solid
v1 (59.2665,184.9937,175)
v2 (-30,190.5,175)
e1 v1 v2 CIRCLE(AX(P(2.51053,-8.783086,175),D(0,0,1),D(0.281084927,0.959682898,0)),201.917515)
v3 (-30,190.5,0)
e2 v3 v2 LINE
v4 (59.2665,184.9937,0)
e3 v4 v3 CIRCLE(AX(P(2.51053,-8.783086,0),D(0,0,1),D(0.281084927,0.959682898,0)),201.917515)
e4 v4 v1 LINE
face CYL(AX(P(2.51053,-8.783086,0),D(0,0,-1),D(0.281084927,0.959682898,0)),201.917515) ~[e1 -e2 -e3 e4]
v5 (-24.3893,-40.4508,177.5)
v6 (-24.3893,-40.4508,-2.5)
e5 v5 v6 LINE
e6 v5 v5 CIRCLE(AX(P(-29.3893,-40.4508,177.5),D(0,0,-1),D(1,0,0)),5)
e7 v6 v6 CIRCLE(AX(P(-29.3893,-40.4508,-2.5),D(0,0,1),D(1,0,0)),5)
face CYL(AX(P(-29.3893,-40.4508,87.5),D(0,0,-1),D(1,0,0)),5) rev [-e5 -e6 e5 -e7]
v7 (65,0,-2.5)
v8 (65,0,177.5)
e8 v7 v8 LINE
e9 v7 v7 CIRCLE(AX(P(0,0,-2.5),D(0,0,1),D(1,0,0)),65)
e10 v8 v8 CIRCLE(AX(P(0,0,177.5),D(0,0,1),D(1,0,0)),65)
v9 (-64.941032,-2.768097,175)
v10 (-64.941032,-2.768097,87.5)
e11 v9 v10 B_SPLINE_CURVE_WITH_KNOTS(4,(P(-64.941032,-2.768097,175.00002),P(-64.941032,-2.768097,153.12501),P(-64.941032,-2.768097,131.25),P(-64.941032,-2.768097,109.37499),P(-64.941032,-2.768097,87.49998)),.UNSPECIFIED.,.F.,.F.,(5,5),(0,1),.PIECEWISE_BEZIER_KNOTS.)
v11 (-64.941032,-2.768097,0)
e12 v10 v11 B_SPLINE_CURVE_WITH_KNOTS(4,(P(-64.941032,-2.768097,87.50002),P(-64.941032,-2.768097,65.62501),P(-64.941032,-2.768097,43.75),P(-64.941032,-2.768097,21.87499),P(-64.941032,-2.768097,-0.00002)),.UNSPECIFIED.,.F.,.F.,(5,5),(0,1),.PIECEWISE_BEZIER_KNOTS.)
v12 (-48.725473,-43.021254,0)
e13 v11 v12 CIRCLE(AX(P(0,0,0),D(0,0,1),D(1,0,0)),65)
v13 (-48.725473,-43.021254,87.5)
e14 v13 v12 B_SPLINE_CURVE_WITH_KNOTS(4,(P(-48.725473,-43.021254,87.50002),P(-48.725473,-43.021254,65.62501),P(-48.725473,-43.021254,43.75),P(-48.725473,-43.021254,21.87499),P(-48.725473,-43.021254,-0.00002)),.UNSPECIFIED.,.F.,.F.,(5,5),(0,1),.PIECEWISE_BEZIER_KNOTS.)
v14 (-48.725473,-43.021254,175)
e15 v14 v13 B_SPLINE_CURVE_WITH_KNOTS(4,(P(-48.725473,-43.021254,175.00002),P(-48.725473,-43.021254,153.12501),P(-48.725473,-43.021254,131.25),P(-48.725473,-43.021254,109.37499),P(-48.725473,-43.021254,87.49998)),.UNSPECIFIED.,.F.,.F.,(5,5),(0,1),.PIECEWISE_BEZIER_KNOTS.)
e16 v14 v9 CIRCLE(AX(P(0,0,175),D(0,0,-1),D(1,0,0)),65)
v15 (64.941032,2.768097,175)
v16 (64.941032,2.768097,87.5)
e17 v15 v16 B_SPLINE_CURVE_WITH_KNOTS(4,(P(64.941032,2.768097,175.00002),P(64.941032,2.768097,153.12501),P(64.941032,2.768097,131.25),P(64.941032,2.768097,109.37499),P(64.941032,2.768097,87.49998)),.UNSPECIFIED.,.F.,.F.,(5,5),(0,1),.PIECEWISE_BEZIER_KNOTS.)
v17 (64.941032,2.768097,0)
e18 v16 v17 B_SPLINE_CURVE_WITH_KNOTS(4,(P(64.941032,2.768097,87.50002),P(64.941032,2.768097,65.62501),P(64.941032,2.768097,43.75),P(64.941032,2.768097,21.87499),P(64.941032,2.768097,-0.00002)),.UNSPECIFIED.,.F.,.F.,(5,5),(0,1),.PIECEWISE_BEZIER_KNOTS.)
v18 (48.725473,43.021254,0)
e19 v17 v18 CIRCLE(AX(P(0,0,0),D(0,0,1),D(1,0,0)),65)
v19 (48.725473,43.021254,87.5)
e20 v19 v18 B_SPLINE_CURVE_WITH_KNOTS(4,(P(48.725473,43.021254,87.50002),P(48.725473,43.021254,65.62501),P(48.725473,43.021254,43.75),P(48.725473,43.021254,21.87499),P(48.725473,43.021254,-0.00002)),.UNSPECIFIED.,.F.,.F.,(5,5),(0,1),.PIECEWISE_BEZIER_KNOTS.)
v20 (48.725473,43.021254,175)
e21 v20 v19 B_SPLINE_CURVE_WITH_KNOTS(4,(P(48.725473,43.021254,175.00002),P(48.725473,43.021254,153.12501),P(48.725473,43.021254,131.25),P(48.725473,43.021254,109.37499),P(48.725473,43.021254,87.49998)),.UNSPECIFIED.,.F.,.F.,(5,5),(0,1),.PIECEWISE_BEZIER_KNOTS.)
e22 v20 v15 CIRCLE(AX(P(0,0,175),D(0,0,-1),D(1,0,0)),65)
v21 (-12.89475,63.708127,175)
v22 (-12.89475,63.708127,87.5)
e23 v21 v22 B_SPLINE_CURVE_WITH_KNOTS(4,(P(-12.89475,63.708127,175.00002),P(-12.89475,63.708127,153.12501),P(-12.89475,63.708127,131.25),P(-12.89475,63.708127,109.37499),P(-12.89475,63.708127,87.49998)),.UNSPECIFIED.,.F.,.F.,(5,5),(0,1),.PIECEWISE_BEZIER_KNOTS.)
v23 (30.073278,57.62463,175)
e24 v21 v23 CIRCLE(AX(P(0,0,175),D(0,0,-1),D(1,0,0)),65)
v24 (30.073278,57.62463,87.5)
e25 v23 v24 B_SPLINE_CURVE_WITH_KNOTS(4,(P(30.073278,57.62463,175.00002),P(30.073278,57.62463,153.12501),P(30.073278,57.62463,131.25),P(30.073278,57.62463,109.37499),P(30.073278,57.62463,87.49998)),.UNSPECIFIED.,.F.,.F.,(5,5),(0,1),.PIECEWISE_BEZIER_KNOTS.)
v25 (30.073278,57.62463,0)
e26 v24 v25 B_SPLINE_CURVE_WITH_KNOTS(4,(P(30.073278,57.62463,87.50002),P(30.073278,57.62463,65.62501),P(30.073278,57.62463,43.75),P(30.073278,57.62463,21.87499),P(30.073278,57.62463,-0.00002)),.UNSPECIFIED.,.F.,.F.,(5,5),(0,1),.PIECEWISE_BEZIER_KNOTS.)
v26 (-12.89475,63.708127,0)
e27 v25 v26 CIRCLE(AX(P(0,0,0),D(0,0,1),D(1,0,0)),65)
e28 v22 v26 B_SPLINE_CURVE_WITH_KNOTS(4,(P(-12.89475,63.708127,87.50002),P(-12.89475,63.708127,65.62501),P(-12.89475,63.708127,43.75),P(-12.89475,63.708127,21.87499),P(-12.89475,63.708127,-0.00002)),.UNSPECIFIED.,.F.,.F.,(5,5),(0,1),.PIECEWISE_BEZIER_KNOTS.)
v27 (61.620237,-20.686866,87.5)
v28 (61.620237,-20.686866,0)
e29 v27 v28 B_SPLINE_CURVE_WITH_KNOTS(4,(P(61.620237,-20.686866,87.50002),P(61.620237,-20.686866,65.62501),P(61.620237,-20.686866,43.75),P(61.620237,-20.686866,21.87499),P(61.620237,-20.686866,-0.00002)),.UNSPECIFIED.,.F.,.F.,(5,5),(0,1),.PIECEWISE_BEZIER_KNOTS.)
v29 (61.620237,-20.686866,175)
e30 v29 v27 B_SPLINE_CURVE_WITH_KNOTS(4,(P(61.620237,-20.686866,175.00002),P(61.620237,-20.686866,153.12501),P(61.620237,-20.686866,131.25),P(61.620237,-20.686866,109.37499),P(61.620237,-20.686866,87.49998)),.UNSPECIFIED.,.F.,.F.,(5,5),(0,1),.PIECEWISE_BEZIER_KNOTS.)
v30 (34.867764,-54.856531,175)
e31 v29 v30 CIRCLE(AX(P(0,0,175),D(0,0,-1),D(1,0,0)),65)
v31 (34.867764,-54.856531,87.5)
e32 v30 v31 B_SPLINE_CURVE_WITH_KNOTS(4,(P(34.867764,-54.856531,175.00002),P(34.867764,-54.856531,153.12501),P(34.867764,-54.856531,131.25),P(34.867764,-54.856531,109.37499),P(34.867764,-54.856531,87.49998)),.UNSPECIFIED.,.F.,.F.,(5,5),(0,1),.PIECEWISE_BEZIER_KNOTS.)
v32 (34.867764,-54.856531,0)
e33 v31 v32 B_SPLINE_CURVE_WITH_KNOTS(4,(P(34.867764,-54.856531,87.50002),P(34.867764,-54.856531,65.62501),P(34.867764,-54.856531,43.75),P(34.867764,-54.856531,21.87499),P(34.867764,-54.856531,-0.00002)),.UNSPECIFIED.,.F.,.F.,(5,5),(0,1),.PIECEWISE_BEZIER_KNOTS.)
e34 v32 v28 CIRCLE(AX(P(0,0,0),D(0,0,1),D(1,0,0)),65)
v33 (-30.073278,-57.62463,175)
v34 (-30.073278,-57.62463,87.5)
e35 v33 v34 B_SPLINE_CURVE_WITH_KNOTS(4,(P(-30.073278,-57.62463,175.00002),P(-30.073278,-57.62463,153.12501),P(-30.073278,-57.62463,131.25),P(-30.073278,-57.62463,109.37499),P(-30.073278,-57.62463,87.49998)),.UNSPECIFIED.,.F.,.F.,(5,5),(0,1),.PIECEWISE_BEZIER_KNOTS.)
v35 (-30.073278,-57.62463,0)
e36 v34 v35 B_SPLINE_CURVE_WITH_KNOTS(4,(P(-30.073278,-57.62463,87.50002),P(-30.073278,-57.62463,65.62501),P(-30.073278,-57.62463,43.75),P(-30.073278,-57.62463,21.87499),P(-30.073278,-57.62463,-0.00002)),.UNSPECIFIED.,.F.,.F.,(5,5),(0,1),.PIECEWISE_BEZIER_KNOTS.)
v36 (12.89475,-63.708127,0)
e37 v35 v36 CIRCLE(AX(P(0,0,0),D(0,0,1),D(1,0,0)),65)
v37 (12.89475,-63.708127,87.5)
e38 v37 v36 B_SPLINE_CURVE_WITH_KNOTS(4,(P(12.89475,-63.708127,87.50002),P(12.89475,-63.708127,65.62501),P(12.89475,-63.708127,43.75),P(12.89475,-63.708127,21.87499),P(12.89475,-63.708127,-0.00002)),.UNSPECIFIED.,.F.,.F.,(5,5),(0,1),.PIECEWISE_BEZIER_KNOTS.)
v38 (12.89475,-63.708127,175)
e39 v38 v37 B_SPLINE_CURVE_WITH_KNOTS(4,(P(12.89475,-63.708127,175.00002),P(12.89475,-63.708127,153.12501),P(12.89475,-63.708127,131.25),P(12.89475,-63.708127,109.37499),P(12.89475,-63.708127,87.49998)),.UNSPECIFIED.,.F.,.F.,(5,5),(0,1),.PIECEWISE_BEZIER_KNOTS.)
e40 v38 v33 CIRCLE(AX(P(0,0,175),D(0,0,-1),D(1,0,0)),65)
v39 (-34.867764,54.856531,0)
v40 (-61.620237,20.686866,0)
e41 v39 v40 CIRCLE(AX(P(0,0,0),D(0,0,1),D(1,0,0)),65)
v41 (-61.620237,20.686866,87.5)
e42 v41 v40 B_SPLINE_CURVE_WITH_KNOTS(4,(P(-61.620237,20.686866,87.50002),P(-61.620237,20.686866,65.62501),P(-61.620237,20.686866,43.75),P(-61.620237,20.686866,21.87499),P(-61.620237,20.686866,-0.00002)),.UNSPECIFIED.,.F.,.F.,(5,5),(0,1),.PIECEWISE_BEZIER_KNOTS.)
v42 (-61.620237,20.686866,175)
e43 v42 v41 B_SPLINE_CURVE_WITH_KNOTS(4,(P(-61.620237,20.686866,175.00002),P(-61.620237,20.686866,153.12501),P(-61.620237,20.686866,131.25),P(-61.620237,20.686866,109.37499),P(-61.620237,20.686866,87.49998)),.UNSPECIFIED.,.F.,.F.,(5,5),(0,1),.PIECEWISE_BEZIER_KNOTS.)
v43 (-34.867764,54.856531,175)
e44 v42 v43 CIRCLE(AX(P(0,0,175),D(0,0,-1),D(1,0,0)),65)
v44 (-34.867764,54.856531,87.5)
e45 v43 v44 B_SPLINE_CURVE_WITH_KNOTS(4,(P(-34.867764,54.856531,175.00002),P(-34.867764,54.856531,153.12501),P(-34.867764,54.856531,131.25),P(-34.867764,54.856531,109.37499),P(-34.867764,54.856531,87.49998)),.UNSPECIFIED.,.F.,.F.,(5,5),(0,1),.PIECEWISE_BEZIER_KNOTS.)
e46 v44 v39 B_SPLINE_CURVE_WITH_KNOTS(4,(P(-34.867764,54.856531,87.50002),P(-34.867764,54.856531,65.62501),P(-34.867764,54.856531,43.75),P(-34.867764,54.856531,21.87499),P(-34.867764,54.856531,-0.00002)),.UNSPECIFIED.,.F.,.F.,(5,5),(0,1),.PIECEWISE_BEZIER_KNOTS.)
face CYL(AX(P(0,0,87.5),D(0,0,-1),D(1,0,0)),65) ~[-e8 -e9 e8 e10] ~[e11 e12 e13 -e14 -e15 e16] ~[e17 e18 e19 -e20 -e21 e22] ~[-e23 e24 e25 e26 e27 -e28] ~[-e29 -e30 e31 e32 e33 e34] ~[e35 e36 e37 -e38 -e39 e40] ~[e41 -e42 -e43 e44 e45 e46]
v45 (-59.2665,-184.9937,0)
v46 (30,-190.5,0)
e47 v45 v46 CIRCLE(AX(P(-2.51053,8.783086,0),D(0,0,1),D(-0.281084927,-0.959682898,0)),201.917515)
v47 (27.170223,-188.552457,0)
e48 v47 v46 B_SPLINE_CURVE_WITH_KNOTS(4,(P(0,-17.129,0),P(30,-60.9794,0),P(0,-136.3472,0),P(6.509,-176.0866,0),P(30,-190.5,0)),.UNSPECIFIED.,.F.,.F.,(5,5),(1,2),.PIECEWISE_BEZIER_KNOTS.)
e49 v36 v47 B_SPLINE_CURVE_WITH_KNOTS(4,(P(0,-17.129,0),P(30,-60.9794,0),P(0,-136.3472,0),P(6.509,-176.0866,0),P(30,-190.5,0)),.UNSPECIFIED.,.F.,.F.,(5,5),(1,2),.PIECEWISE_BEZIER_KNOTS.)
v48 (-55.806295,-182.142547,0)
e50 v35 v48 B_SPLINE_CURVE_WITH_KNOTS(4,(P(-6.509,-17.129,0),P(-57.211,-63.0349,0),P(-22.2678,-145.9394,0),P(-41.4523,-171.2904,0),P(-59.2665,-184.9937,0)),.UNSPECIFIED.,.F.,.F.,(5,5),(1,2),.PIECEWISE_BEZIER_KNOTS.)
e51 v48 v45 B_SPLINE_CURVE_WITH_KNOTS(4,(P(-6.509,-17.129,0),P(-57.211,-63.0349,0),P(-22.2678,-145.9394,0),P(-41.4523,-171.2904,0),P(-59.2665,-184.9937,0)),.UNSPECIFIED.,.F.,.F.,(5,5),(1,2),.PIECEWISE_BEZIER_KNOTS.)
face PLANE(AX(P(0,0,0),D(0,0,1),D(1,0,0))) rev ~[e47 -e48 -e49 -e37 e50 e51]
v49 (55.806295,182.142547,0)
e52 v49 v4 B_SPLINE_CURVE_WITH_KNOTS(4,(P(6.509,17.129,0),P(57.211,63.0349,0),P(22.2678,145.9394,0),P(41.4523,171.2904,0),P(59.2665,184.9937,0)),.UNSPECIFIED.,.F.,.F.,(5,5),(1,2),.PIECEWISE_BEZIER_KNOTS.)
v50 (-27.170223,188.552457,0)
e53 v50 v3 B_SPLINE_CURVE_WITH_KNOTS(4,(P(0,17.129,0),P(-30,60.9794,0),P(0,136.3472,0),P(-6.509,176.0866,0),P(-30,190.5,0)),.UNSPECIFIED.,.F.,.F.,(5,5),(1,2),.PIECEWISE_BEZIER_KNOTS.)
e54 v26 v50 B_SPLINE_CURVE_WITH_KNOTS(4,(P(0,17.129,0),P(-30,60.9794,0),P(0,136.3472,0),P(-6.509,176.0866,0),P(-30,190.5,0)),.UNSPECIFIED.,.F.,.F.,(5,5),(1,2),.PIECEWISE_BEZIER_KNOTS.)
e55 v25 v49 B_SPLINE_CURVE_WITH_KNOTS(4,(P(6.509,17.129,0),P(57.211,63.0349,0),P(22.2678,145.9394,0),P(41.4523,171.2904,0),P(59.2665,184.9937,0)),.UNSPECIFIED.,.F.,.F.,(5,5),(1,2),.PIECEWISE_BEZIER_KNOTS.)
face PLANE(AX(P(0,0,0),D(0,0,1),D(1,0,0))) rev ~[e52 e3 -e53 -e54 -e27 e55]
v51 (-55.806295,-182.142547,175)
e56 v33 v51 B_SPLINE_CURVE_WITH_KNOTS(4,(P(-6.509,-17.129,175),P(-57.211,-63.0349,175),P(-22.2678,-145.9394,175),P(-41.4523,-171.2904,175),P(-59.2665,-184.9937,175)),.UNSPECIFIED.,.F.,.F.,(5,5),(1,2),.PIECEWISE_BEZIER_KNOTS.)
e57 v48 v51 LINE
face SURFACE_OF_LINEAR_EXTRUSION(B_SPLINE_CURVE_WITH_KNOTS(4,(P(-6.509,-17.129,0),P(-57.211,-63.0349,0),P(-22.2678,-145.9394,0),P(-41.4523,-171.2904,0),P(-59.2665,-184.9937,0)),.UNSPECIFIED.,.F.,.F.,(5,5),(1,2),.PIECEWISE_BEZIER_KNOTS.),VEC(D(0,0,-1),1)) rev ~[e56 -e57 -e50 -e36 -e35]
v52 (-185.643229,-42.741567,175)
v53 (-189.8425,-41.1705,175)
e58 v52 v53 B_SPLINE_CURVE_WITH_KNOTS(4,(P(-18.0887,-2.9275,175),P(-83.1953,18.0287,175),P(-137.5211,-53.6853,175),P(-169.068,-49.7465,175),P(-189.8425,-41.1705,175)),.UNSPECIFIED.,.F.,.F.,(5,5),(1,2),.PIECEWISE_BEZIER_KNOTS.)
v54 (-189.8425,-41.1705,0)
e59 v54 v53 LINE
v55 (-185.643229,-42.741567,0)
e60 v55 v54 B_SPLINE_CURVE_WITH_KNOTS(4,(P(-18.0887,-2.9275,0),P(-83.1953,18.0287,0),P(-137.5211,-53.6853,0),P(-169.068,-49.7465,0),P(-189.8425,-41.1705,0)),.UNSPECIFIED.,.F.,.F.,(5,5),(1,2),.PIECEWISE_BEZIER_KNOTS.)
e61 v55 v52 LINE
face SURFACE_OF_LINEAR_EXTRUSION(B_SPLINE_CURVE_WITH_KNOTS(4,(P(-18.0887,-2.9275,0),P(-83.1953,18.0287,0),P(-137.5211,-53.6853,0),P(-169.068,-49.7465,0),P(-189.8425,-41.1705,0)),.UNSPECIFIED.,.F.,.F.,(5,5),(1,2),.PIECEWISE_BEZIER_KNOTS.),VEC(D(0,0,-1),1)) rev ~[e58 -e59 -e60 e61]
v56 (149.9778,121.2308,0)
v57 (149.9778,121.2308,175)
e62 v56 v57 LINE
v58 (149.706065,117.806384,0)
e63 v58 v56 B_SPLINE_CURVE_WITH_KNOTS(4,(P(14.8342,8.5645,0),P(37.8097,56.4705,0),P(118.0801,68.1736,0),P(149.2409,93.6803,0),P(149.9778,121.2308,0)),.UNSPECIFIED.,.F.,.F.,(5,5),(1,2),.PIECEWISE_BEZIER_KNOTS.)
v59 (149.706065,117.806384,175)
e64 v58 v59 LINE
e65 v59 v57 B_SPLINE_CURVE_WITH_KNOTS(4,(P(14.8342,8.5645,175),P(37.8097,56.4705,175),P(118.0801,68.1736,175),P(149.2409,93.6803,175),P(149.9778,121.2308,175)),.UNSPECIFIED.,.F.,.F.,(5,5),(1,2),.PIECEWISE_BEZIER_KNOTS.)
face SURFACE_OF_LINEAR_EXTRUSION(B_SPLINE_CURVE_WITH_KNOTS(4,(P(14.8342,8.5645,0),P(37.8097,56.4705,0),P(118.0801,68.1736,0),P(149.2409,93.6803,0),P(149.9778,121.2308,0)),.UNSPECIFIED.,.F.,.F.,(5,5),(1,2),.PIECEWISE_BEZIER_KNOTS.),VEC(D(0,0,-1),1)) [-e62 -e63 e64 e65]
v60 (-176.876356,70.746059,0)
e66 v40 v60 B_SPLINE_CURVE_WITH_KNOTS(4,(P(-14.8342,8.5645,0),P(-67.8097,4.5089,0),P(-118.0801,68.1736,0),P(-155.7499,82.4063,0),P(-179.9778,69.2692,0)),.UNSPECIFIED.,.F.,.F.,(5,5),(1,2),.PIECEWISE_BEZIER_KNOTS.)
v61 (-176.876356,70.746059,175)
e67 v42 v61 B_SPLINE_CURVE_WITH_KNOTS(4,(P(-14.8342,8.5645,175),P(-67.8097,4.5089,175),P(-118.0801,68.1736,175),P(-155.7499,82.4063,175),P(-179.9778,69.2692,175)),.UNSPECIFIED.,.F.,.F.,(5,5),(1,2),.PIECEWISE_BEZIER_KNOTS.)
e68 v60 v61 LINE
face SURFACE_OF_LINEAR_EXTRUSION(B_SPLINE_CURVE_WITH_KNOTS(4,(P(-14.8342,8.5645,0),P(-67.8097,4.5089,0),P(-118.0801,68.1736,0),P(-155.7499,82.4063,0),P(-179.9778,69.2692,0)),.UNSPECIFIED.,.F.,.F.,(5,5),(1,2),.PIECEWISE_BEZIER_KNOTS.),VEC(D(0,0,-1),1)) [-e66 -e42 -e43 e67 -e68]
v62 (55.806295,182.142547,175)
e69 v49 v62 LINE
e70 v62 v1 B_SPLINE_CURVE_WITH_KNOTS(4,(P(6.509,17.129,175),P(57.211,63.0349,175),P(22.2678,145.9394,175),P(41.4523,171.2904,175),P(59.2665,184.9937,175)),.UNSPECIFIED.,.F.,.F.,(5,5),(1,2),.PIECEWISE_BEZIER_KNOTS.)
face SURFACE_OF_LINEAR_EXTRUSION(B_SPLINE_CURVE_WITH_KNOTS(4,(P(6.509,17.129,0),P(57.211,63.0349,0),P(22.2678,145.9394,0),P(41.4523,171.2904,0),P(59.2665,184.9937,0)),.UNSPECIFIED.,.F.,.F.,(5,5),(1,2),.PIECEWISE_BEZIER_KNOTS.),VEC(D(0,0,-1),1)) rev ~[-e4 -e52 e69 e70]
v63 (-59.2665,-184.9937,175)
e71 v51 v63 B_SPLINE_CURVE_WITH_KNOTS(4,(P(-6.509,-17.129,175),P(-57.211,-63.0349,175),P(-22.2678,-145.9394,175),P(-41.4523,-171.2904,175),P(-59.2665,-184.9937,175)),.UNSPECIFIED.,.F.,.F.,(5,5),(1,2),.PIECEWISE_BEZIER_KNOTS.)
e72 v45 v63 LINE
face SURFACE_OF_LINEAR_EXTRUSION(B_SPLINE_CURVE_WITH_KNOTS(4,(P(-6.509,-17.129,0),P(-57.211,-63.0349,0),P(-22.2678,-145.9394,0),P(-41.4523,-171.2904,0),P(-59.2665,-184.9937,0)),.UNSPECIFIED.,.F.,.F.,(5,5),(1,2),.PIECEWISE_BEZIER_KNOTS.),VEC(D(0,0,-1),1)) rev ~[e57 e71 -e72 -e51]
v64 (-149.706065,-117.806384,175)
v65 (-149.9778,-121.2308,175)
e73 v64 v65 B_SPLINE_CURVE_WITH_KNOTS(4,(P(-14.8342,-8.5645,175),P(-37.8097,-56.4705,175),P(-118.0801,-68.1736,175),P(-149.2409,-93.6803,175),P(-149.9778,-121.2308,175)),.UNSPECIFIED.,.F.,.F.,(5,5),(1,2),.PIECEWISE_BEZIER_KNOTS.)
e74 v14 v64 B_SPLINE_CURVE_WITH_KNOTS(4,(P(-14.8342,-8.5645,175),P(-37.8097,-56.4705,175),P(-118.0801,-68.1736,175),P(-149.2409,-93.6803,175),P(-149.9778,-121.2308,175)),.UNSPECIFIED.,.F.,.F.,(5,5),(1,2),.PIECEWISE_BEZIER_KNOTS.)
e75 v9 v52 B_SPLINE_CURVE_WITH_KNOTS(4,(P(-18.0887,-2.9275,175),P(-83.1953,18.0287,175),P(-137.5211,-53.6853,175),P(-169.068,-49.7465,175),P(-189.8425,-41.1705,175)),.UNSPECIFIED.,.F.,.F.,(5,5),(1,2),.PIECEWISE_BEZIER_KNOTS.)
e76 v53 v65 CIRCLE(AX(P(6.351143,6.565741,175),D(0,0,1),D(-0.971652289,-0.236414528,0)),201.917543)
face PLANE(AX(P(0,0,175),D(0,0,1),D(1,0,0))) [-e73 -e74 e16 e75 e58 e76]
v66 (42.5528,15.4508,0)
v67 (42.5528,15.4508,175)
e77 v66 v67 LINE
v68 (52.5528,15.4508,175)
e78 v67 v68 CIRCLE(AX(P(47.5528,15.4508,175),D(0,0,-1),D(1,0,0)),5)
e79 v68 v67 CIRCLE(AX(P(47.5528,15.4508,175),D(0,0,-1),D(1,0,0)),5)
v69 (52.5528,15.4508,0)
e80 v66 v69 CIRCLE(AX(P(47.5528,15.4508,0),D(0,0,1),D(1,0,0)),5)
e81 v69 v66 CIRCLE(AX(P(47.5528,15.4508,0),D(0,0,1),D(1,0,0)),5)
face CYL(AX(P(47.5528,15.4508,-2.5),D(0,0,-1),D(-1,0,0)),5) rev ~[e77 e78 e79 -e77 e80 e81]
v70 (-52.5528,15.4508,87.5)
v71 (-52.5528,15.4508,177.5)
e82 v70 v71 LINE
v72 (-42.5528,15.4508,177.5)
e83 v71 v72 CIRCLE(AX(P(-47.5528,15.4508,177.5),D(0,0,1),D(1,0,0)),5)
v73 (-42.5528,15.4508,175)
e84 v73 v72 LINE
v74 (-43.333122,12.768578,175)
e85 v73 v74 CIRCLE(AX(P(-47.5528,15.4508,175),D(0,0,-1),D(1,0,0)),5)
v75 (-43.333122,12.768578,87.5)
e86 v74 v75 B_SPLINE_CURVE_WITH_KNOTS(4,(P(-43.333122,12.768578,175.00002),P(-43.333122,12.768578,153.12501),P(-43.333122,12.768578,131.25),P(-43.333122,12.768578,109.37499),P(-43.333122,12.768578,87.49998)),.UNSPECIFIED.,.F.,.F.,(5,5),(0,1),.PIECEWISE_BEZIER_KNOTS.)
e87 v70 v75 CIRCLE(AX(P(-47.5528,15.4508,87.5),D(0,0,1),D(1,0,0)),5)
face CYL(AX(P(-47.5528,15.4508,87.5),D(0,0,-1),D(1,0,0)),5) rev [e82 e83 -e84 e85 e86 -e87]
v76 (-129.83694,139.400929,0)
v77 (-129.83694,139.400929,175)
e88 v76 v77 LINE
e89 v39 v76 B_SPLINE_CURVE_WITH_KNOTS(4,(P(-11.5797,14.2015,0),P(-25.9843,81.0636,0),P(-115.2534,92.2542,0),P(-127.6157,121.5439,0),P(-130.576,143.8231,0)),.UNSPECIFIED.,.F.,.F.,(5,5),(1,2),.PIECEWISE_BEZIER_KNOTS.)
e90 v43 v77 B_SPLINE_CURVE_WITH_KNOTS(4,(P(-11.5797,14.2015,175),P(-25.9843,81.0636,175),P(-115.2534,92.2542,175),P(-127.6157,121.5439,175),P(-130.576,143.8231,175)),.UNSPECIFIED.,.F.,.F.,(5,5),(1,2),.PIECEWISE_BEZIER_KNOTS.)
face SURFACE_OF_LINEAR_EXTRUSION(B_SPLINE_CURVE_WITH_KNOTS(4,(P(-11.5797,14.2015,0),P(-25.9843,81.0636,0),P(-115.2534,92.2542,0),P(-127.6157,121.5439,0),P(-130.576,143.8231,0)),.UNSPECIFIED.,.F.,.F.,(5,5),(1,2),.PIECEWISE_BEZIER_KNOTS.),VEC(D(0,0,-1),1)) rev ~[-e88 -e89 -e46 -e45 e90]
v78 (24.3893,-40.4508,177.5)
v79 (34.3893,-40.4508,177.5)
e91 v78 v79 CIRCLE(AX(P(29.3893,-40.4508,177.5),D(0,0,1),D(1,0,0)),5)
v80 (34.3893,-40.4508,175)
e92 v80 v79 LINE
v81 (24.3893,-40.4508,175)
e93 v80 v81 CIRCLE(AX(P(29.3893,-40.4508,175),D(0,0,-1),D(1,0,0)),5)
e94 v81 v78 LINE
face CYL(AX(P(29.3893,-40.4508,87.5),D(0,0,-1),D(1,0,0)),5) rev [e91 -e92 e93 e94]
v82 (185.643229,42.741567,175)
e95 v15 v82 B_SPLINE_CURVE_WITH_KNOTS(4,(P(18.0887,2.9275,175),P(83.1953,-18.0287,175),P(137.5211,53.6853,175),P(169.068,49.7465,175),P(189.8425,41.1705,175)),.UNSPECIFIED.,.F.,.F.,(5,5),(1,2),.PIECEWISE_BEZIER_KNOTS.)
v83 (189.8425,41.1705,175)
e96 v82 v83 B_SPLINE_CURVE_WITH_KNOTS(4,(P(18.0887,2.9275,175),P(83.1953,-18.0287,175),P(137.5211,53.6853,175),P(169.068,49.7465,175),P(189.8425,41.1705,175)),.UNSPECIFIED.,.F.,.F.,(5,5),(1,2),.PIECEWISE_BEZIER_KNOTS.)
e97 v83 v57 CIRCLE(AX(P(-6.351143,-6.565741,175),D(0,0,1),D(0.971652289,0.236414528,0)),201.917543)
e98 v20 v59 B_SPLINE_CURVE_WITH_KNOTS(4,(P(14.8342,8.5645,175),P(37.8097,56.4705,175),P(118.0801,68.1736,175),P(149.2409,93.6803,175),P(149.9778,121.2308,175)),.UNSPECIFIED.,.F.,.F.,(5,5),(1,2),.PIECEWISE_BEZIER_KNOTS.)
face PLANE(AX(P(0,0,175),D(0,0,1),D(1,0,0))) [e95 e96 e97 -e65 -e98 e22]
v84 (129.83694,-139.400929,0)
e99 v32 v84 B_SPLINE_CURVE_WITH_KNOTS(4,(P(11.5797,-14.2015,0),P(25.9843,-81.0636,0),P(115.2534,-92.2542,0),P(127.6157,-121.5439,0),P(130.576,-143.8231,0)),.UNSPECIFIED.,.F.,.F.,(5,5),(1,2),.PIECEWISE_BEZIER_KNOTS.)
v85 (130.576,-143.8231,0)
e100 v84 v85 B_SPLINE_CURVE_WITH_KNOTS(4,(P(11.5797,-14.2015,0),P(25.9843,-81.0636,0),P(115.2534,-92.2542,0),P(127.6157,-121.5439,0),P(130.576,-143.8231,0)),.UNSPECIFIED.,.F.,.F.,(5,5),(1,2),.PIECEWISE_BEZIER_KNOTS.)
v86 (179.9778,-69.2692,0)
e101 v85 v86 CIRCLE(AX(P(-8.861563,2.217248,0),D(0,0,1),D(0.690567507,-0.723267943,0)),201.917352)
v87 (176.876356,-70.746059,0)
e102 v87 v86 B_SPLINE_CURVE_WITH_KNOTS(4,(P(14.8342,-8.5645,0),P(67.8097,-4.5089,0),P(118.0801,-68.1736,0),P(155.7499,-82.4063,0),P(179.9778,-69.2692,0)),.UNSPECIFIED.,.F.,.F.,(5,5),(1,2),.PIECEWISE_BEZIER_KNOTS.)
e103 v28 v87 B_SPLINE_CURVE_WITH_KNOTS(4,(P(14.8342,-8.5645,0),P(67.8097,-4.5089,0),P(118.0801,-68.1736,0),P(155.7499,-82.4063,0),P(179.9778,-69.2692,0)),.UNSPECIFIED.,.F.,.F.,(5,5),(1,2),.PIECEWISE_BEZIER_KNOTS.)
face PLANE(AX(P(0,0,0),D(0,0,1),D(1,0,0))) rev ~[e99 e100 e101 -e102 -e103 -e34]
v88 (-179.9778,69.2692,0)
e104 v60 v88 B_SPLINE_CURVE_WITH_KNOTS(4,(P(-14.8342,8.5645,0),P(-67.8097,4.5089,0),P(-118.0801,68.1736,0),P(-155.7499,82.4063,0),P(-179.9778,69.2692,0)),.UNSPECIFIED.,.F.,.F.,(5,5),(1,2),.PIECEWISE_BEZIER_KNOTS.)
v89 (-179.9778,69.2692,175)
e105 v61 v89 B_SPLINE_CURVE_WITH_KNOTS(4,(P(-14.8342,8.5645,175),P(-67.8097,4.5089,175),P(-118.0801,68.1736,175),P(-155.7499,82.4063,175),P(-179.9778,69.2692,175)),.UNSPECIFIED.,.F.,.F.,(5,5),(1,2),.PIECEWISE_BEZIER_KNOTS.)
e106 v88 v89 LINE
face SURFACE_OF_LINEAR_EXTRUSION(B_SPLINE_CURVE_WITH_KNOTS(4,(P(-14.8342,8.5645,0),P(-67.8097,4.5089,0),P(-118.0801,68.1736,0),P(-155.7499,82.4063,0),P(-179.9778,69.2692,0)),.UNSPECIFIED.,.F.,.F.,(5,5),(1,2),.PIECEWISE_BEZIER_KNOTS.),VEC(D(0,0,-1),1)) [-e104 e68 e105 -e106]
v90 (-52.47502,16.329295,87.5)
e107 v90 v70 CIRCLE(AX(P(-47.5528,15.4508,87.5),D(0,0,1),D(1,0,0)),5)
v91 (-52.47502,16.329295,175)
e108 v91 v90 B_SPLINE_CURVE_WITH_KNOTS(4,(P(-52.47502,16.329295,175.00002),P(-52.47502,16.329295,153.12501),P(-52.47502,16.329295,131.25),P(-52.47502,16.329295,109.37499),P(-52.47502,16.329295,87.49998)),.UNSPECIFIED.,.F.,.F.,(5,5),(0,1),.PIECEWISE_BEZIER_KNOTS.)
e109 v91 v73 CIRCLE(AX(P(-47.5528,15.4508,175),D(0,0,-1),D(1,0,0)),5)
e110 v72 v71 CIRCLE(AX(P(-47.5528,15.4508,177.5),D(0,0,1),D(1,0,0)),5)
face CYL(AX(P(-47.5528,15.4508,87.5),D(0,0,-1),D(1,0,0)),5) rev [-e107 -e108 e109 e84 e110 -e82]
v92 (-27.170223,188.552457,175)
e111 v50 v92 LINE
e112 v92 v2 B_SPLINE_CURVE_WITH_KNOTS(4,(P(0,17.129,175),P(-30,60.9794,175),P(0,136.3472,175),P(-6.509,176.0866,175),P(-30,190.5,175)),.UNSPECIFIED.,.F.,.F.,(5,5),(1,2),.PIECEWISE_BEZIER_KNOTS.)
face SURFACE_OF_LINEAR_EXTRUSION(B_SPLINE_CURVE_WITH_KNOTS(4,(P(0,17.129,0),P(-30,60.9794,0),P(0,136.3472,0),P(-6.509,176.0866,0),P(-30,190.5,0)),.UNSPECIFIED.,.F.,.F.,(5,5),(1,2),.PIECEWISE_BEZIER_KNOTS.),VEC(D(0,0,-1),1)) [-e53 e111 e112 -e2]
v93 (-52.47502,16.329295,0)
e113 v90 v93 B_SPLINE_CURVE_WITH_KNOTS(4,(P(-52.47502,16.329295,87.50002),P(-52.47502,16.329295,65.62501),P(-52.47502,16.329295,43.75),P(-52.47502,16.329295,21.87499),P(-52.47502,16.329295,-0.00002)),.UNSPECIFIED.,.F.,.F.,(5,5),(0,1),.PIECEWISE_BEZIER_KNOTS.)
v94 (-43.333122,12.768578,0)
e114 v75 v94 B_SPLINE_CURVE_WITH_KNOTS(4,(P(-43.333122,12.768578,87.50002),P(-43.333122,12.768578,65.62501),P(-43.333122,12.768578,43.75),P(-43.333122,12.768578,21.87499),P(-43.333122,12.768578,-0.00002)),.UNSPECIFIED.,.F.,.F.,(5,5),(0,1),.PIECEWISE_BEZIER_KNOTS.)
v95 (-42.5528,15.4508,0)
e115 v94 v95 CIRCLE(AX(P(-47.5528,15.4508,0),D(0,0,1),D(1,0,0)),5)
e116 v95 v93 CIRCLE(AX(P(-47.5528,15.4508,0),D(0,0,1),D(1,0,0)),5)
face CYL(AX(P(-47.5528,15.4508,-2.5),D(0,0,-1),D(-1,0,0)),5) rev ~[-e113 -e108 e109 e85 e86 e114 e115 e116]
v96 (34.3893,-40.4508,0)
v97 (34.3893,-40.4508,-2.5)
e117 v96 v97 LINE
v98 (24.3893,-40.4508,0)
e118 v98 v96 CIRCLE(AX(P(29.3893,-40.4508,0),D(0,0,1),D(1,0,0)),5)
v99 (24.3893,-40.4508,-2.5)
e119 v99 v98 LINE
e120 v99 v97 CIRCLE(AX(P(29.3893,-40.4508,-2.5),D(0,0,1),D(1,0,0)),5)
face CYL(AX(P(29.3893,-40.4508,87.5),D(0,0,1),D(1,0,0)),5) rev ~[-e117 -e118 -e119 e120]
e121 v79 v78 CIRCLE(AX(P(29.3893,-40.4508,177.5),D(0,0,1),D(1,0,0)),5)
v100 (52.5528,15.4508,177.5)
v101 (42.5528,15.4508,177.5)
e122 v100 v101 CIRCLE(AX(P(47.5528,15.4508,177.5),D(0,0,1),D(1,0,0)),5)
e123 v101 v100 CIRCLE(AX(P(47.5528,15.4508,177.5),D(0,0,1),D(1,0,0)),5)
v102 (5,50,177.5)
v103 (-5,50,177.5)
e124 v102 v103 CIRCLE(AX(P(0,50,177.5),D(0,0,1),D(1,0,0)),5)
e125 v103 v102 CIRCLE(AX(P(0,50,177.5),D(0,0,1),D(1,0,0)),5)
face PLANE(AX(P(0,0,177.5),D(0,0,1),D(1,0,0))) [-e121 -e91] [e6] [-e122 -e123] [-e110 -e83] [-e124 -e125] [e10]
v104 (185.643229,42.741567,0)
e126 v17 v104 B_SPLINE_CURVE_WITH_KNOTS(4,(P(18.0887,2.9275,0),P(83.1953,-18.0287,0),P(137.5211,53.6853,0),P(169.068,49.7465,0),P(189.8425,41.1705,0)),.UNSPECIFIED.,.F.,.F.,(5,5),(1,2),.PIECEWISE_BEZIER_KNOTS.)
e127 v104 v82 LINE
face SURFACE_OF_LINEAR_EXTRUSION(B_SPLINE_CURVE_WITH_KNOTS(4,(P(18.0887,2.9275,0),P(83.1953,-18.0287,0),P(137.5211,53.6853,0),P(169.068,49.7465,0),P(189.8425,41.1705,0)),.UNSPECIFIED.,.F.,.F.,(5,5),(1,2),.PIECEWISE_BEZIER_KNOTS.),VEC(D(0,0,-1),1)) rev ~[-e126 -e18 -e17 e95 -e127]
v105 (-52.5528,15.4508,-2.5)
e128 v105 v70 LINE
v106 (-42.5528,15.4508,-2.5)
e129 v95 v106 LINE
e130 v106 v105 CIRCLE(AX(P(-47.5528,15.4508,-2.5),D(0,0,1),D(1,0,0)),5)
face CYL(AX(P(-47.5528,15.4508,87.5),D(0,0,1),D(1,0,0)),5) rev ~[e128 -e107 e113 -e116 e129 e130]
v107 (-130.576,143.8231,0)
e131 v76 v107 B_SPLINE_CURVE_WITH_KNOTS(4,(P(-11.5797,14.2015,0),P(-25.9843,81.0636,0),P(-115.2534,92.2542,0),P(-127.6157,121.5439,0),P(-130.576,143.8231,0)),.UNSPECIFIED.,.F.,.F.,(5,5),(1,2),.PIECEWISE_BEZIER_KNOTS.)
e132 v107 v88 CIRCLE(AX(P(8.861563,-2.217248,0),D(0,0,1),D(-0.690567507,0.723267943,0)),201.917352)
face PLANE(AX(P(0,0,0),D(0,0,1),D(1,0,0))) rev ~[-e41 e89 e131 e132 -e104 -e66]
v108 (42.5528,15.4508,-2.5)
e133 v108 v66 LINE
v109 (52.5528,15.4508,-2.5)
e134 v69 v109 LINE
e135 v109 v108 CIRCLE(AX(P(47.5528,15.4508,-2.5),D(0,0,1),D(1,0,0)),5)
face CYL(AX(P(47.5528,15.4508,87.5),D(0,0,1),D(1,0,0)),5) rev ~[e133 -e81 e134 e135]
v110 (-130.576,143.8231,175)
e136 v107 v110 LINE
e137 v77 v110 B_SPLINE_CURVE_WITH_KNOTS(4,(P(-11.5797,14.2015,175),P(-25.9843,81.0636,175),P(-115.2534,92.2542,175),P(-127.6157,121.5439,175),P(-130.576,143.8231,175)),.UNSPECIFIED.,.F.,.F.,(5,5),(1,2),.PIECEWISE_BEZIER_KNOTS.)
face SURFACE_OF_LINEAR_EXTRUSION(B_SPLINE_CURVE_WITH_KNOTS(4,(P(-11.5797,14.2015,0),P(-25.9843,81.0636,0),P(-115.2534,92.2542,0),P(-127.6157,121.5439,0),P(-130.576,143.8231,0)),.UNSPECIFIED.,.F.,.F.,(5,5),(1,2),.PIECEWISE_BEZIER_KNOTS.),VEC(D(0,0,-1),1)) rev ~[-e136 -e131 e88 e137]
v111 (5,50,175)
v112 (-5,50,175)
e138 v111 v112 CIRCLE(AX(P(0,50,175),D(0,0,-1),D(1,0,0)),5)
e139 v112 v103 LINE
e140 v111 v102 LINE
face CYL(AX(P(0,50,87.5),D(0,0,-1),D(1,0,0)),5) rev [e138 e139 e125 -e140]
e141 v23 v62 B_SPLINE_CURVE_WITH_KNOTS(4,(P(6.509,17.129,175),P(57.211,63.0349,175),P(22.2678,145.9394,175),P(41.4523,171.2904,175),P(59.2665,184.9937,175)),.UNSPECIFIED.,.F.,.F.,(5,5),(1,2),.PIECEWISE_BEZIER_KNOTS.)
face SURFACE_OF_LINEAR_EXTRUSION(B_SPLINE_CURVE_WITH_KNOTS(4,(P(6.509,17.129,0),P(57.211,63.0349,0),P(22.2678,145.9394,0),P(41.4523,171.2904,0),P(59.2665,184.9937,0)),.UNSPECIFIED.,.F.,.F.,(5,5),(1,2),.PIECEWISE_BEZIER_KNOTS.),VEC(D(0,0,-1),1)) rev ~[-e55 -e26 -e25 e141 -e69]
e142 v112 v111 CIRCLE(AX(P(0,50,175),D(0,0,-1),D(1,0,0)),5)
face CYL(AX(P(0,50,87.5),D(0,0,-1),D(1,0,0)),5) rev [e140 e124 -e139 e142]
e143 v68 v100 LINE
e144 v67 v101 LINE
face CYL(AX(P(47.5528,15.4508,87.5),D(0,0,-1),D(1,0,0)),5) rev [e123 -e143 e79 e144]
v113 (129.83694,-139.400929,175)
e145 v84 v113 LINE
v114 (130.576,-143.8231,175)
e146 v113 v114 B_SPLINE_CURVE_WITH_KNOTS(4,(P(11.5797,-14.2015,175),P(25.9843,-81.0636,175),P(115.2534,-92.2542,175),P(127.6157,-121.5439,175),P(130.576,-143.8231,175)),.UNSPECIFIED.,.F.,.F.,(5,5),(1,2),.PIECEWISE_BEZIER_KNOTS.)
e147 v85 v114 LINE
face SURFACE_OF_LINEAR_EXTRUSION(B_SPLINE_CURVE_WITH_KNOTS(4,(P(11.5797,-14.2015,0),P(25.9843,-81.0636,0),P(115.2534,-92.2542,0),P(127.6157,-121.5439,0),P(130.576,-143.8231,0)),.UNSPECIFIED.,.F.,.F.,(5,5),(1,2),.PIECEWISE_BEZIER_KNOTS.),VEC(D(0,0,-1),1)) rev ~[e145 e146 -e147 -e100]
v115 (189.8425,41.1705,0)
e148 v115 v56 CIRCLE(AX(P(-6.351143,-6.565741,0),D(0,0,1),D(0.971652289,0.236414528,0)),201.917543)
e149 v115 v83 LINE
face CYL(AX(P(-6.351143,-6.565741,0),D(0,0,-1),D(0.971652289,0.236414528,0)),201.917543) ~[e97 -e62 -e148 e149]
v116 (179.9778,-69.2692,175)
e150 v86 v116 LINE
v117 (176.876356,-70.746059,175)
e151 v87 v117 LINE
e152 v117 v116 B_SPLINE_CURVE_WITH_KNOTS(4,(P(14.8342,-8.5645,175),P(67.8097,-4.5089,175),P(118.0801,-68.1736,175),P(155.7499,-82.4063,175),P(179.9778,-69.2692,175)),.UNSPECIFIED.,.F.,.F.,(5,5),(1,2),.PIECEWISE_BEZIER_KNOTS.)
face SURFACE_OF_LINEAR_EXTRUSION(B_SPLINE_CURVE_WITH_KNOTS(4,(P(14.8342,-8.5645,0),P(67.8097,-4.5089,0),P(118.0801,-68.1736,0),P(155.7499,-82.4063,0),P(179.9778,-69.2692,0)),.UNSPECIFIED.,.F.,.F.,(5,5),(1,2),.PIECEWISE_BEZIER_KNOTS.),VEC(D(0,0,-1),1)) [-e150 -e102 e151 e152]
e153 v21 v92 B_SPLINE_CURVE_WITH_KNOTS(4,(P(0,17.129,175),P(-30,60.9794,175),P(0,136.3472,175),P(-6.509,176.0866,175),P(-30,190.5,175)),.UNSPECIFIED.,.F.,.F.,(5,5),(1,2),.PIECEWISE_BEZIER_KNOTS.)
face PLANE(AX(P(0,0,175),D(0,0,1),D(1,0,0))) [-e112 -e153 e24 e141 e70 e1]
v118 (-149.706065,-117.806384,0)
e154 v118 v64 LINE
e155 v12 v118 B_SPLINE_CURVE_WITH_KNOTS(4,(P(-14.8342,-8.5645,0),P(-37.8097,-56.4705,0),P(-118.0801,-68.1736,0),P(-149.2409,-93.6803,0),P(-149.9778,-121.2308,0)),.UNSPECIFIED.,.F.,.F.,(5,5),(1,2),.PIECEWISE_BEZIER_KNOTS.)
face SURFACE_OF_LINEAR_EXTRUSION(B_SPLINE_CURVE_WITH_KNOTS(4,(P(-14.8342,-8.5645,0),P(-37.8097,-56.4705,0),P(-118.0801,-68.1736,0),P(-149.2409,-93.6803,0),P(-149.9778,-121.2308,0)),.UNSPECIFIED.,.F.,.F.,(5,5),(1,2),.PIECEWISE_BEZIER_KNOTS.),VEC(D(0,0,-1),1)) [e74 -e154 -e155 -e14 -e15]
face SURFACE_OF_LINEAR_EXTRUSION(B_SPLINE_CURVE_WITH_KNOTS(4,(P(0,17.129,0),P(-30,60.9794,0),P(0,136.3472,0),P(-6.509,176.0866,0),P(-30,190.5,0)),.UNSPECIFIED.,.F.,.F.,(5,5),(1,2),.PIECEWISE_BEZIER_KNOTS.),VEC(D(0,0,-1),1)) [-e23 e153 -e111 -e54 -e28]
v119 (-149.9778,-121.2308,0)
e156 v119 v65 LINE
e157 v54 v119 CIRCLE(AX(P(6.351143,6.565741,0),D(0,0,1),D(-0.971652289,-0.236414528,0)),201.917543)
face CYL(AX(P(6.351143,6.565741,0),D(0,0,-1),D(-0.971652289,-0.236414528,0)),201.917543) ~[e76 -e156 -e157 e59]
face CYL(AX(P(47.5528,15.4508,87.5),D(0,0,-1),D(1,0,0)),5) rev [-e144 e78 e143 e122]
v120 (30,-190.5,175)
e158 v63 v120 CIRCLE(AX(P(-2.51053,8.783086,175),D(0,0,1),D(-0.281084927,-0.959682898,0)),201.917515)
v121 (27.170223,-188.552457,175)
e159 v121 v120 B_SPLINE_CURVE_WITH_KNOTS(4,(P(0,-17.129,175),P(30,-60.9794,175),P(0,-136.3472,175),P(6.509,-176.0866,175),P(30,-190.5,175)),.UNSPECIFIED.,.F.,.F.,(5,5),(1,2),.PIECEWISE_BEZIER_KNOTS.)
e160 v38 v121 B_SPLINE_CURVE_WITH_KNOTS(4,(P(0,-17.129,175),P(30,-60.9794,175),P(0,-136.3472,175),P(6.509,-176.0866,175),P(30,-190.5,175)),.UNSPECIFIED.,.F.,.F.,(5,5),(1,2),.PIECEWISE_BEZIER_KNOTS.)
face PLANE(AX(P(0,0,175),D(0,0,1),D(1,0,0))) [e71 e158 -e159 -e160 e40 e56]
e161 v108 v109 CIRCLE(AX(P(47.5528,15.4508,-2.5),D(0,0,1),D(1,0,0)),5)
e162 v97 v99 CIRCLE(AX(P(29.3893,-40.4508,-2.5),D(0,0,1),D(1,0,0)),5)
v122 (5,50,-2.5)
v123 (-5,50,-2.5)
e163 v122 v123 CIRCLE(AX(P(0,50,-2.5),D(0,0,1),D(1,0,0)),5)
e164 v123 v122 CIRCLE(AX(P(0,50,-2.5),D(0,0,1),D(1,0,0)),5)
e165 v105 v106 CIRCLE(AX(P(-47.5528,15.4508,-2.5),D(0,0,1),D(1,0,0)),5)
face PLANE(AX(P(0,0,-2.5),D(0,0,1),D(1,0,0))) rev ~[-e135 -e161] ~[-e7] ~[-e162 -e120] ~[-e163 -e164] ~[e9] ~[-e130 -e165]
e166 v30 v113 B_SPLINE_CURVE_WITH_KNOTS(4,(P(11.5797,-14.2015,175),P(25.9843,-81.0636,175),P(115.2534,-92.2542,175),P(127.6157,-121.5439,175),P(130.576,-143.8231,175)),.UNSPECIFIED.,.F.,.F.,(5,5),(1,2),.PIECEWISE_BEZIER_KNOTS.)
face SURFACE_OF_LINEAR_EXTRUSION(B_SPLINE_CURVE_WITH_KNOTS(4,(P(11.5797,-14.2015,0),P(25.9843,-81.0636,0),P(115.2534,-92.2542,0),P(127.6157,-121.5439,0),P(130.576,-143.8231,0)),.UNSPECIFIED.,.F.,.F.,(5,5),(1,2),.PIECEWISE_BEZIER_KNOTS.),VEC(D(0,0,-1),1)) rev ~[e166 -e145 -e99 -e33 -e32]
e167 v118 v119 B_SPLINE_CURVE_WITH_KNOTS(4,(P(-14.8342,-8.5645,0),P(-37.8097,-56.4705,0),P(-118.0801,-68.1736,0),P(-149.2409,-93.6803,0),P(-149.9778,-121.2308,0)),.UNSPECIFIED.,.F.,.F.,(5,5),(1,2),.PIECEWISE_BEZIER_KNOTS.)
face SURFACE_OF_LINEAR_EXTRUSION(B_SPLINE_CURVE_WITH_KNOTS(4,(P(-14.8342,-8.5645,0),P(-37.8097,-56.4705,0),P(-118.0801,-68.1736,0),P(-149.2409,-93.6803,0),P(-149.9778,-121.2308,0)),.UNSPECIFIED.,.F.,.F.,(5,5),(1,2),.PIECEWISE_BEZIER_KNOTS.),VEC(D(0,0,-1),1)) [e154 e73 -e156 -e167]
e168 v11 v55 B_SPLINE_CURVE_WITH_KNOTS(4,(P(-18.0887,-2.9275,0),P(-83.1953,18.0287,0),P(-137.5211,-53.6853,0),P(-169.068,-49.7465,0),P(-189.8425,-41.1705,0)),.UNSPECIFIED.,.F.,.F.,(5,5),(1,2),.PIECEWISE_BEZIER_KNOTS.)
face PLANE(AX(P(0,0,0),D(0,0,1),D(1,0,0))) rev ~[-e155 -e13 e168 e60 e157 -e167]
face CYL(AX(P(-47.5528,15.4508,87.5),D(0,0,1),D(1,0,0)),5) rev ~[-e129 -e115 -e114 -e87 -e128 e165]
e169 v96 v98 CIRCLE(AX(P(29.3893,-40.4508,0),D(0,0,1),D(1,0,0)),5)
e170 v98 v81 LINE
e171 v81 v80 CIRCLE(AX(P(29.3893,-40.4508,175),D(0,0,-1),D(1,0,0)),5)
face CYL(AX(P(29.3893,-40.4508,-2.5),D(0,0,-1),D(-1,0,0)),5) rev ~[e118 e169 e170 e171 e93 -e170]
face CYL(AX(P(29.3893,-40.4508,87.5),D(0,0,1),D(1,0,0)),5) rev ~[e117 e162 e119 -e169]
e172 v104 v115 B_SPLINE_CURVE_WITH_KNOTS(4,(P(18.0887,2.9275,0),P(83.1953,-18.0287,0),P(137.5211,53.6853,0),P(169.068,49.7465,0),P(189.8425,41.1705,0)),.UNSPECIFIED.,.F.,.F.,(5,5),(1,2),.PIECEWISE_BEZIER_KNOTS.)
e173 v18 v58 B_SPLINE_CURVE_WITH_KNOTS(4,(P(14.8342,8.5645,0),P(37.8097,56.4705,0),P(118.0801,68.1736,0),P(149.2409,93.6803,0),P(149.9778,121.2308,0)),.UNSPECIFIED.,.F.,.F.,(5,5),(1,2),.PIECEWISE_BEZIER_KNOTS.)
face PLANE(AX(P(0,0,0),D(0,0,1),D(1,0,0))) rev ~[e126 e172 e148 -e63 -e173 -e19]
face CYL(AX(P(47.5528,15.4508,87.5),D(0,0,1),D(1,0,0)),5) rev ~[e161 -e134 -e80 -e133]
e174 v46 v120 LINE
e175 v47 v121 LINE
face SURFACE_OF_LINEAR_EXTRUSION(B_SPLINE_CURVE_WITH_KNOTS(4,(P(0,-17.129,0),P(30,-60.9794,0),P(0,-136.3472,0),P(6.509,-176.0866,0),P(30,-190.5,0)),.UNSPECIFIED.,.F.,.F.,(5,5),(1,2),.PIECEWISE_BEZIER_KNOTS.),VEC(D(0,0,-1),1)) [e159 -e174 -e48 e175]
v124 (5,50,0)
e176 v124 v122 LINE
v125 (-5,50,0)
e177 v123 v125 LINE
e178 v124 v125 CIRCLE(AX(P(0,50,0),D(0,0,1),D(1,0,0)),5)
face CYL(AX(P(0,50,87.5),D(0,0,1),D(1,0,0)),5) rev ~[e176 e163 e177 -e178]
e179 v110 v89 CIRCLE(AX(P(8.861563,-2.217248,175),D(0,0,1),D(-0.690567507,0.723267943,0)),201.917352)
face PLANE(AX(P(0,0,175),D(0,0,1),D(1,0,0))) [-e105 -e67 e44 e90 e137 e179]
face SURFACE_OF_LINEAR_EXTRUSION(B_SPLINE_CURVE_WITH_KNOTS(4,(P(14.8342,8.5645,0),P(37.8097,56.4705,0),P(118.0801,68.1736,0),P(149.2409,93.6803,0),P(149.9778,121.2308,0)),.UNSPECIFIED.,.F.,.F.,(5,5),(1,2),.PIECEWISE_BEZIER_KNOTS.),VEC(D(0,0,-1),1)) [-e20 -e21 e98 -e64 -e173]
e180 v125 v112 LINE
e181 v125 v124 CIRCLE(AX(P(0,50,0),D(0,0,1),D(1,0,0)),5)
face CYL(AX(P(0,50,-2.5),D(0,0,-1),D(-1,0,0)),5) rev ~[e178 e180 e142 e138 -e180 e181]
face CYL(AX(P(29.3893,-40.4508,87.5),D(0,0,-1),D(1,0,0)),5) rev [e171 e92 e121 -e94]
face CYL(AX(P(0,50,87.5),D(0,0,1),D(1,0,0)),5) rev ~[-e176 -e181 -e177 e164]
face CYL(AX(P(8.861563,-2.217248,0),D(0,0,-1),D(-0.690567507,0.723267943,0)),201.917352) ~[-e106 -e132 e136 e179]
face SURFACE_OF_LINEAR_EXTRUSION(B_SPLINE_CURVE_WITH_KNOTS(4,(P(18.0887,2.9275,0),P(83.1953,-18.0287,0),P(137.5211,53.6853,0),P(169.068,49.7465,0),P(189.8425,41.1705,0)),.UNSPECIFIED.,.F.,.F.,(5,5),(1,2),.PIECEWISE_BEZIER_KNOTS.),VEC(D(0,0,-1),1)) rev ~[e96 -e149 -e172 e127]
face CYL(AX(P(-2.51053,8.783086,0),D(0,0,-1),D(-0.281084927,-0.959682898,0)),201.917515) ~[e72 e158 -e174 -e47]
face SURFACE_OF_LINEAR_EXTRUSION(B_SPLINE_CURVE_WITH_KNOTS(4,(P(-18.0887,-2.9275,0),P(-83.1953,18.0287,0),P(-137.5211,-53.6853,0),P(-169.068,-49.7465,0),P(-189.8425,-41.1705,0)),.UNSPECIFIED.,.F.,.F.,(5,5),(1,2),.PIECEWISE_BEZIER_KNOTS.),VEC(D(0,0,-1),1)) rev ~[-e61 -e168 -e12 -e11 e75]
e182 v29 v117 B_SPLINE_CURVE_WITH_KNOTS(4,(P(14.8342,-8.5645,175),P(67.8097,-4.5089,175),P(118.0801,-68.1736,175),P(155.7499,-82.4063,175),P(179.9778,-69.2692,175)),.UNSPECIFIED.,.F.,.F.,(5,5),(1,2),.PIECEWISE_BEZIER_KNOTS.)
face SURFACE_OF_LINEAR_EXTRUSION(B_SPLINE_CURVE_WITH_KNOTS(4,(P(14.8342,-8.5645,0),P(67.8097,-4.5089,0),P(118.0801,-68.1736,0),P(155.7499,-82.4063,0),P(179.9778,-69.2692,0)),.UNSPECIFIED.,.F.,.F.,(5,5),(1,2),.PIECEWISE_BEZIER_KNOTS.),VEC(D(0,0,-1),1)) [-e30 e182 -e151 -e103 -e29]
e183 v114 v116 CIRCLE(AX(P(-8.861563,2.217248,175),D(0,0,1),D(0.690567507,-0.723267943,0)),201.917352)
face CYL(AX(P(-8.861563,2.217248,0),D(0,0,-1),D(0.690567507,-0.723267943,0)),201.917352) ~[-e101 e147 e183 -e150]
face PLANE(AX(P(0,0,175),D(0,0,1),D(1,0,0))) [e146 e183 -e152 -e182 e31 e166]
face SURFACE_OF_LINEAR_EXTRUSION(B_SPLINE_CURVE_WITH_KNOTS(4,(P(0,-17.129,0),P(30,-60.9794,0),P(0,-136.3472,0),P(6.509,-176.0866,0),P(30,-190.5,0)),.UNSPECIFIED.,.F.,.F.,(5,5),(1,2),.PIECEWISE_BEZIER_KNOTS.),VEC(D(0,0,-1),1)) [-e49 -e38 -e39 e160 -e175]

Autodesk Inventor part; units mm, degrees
ref_plane "YZ Plane" through (0, 0, 0) normal (1, 0, 0) x (0, 1, 0)
ref_plane "XZ Plane" through (0, 0, 0) normal (0, 1, 0) x (-1, 0, 0)
sketch "Sketch2" plane through (0, 0, 0) normal (0, 0, 1) x (1, 0, 0)
  point P0 (0, 0)
ref_plane "Work Plane1" through (0, 0, 87.5) normal (0, 0, 1) x (1, 0, 0)
sketch "Sketch3" plane through (0, 0, 87.5) normal (0, 0, 1) x (1, 0, 0)
  circle A0 centre (0, 0) radius 65
  circle A1 centre (0, 50) radius 5
  circle A2 centre (-47.5528, 15.4508) radius 5
  circle A3 centre (-29.3893, -40.4508) radius 5
  circle A4 centre (29.3893, -40.4508) radius 5
  circle A5 centre (47.5528, 15.4508) radius 5
  dimension "d11" = 130
  dimension "d33" = 10
  dimension "d36" = 360
sketch "Sketch5" plane through (0, 0, 0) normal (0, 0, 1) x (1, 0, 0)
  circle A0 centre (0, 0) radius 30
  circle A1 centre (0, 0) radius 190.5
  line L0 (6.509, 17.129) -> (57.211, 63.0349) construction
  line L1 (57.211, 63.0349) -> (22.2678, 145.9394) construction
  line L2 (22.2678, 145.9394) -> (41.4523, 171.2904) construction
  line L3 (41.4523, 171.2904) -> (59.2665, 184.9937) construction
  spline S0 degree 4 poles (6.509, 17.129) (57.211, 63.0349) (22.2678, 145.9394) (41.4523, 171.2904) (59.2665, 184.9937) knots 1 1 1 1 1 2 2 2 2 2
  line L4 (0, 17.129) -> (-30, 60.9794) construction
  line L5 (-30, 60.9794) -> (0, 136.3472) construction
  line L6 (0, 136.3472) -> (-6.509, 176.0866) construction
  line L7 (-6.509, 176.0866) -> (-30, 190.5) construction
  spline S1 degree 4 poles (0, 17.129) (-30, 60.9794) (0, 136.3472) (-6.509, 176.0866) (-30, 190.5) knots 1 1 1 1 1 2 2 2 2 2
  line L8 (0, 17.129) -> (6.509, 17.129)
  arc A2 (59.2665, 184.9937) -> (-30, 190.5) centre (2.5103, -8.7844) ccw
  line L9 (-11.5797, 14.2015) -> (-25.9843, 81.0636) construction
  line L10 (-25.9843, 81.0636) -> (-115.2534, 92.2542) construction
  line L11 (-115.2534, 92.2542) -> (-127.6157, 121.5439) construction
  line L12 (-127.6157, 121.5439) -> (-130.576, 143.8231) construction
  spline S2 degree 4 poles (-11.5797, 14.2015) (-25.9843, 81.0636) (-115.2534, 92.2542) (-127.6157, 121.5439) (-130.576, 143.8231) knots 1 1 1 1 1 2 2 2 2 2
  line L13 (-14.8342, 8.5645) -> (-67.8097, 4.5089) construction
  line L14 (-67.8097, 4.5089) -> (-118.0801, 68.1736) construction
  line L15 (-118.0801, 68.1736) -> (-155.7499, 82.4063) construction
  line L16 (-155.7499, 82.4063) -> (-179.9778, 69.2692) construction
  spline S3 degree 4 poles (-14.8342, 8.5645) (-67.8097, 4.5089) (-118.0801, 68.1736) (-155.7499, 82.4063) (-179.9778, 69.2692) knots 1 1 1 1 1 2 2 2 2 2
  line L17 (-14.8342, 8.5645) -> (-11.5797, 14.2015)
  arc A3 (-130.576, 143.8231) -> (-179.9778, 69.2692) centre (8.8627, -2.2182) ccw
  line L18 (-18.0887, -2.9275) -> (-83.1953, 18.0287) construction
  line L19 (-83.1953, 18.0287) -> (-137.5211, -53.6853) construction
  line L20 (-137.5211, -53.6853) -> (-169.068, -49.7465) construction
  line L21 (-169.068, -49.7465) -> (-189.8425, -41.1705) construction
  spline S4 degree 4 poles (-18.0887, -2.9275) (-83.1953, 18.0287) (-137.5211, -53.6853) (-169.068, -49.7465) (-189.8425, -41.1705) knots 1 1 1 1 1 2 2 2 2 2
  line L22 (-14.8342, -8.5645) -> (-37.8097, -56.4705) construction
  line L23 (-37.8097, -56.4705) -> (-118.0801, -68.1736) construction
  line L24 (-118.0801, -68.1736) -> (-149.2409, -93.6803) construction
  line L25 (-149.2409, -93.6803) -> (-149.9778, -121.2308) construction
  spline S5 degree 4 poles (-14.8342, -8.5645) (-37.8097, -56.4705) (-118.0801, -68.1736) (-149.2409, -93.6803) (-149.9778, -121.2308) knots 1 1 1 1 1 2 2 2 2 2
  line L26 (-14.8342, -8.5645) -> (-18.0887, -2.9275)
  arc A4 (-189.8425, -41.1705) -> (-149.9778, -121.2308) centre (6.3524, 6.5662) ccw
  line L27 (-6.509, -17.129) -> (-57.211, -63.0349) construction
  line L28 (-57.211, -63.0349) -> (-22.2678, -145.9394) construction
  line L29 (-22.2678, -145.9394) -> (-41.4523, -171.2904) construction
  line L30 (-41.4523, -171.2904) -> (-59.2665, -184.9937) construction
  spline S6 degree 4 poles (-6.509, -17.129) (-57.211, -63.0349) (-22.2678, -145.9394) (-41.4523, -171.2904) (-59.2665, -184.9937) knots 1 1 1 1 1 2 2 2 2 2
  line L31 (0, -17.129) -> (30, -60.9794) construction
  line L32 (30, -60.9794) -> (0, -136.3472) construction
  line L33 (0, -136.3472) -> (6.509, -176.0866) construction
  line L34 (6.509, -176.0866) -> (30, -190.5) construction
  spline S7 degree 4 poles (0, -17.129) (30, -60.9794) (0, -136.3472) (6.509, -176.0866) (30, -190.5) knots 1 1 1 1 1 2 2 2 2 2
  line L35 (0, -17.129) -> (-6.509, -17.129)
  arc A5 (-59.2665, -184.9937) -> (30, -190.5) centre (-2.5103, 8.7844) ccw
  line L36 (11.5797, -14.2015) -> (25.9843, -81.0636) construction
  line L37 (25.9843, -81.0636) -> (115.2534, -92.2542) construction
  line L38 (115.2534, -92.2542) -> (127.6157, -121.5439) construction
  line L39 (127.6157, -121.5439) -> (130.576, -143.8231) construction
  spline S8 degree 4 poles (11.5797, -14.2015) (25.9843, -81.0636) (115.2534, -92.2542) (127.6157, -121.5439) (130.576, -143.8231) knots 1 1 1 1 1 2 2 2 2 2
  line L40 (14.8342, -8.5645) -> (67.8097, -4.5089) construction
  line L41 (67.8097, -4.5089) -> (118.0801, -68.1736) construction
  line L42 (118.0801, -68.1736) -> (155.7499, -82.4063) construction
  line L43 (155.7499, -82.4063) -> (179.9778, -69.2692) construction
  spline S9 degree 4 poles (14.8342, -8.5645) (67.8097, -4.5089) (118.0801, -68.1736) (155.7499, -82.4063) (179.9778, -69.2692) knots 1 1 1 1 1 2 2 2 2 2
  line L44 (14.8342, -8.5645) -> (11.5797, -14.2015)
  arc A6 (130.576, -143.8231) -> (179.9778, -69.2692) centre (-8.8627, 2.2182) ccw
  line L45 (18.0887, 2.9275) -> (83.1953, -18.0287) construction
  line L46 (83.1953, -18.0287) -> (137.5211, 53.6853) construction
  line L47 (137.5211, 53.6853) -> (169.068, 49.7465) construction
  line L48 (169.068, 49.7465) -> (189.8425, 41.1705) construction
  spline S10 degree 4 poles (18.0887, 2.9275) (83.1953, -18.0287) (137.5211, 53.6853) (169.068, 49.7465) (189.8425, 41.1705) knots 1 1 1 1 1 2 2 2 2 2
  line L49 (14.8342, 8.5645) -> (37.8097, 56.4705) construction
  line L50 (37.8097, 56.4705) -> (118.0801, 68.1736) construction
  line L51 (118.0801, 68.1736) -> (149.2409, 93.6803) construction
  line L52 (149.2409, 93.6803) -> (149.9778, 121.2308) construction
  spline S11 degree 4 poles (14.8342, 8.5645) (37.8097, 56.4705) (118.0801, 68.1736) (149.2409, 93.6803) (149.9778, 121.2308) knots 1 1 1 1 1 2 2 2 2 2
  line L53 (14.8342, 8.5645) -> (18.0887, 2.9275)
  arc A7 (189.8425, 41.1705) -> (149.9778, 121.2308) centre (-6.3524, -6.5662) ccw
  dimension "d24" = 60
  dimension "d25" = 381
  dimension "d28" = 360
extrude "Extrusion4" add sketch "Sketch5" along normal blind 175 contours S10 L53 S11 A0 | A0 S11 A1 S10 | S9 A1 S8 A0 | A0 S8 L44 S9 | A1 S11 A7 S10 | S9 A6 S8 A1 | S0 L8 S1 A0 | A0 S1 A1 S0 | S7 A1 S6 A0 | A0 S6 L35 S7 | A1 S1 A2 S0 | S7 A5 S6 A1 | S2 L17 S3 A0 | A0 S3 A1 S2 | S5 A1 S4 A0 | A0 S4 L26 S5 | A1 S3 A3 S2 | S5 A4 S4 A1
extrude "Extrusion5" add sketch "Sketch3" along normal mid plane 180
sketch "Sketch6" plane through (0, 0, -2.5) normal (0, 0, -1) x (-1, 0, 0)
  circle A0 centre (-47.5528, 15.4508) radius 5 projected
  circle A1 centre (-29.3893, -40.4508) radius 5 projected
  circle A2 centre (29.3893, -40.4508) radius 5 projected
  circle A3 centre (47.5528, 15.4508) radius 5 projected
  circle A4 centre (0, 50) radius 5 projected
  circle A5 centre (0, 0) radius 65 projected
  circle A6 centre (0, 50) radius 5
  circle A7 centre (-47.5528, 15.4508) radius 5
  circle A8 centre (-29.3893, -40.4508) radius 5
  circle A9 centre (29.3893, -40.4508) radius 5
  circle A10 centre (47.5528, 15.4508) radius 5
  dimension "d42" = 360
extrude "Extrusion6" cut sketch "Sketch6" against normal blind 1800 contours A0 | A1 | A2 | A3 | A4
properties part number "velg" material "Aluminum 6061"
